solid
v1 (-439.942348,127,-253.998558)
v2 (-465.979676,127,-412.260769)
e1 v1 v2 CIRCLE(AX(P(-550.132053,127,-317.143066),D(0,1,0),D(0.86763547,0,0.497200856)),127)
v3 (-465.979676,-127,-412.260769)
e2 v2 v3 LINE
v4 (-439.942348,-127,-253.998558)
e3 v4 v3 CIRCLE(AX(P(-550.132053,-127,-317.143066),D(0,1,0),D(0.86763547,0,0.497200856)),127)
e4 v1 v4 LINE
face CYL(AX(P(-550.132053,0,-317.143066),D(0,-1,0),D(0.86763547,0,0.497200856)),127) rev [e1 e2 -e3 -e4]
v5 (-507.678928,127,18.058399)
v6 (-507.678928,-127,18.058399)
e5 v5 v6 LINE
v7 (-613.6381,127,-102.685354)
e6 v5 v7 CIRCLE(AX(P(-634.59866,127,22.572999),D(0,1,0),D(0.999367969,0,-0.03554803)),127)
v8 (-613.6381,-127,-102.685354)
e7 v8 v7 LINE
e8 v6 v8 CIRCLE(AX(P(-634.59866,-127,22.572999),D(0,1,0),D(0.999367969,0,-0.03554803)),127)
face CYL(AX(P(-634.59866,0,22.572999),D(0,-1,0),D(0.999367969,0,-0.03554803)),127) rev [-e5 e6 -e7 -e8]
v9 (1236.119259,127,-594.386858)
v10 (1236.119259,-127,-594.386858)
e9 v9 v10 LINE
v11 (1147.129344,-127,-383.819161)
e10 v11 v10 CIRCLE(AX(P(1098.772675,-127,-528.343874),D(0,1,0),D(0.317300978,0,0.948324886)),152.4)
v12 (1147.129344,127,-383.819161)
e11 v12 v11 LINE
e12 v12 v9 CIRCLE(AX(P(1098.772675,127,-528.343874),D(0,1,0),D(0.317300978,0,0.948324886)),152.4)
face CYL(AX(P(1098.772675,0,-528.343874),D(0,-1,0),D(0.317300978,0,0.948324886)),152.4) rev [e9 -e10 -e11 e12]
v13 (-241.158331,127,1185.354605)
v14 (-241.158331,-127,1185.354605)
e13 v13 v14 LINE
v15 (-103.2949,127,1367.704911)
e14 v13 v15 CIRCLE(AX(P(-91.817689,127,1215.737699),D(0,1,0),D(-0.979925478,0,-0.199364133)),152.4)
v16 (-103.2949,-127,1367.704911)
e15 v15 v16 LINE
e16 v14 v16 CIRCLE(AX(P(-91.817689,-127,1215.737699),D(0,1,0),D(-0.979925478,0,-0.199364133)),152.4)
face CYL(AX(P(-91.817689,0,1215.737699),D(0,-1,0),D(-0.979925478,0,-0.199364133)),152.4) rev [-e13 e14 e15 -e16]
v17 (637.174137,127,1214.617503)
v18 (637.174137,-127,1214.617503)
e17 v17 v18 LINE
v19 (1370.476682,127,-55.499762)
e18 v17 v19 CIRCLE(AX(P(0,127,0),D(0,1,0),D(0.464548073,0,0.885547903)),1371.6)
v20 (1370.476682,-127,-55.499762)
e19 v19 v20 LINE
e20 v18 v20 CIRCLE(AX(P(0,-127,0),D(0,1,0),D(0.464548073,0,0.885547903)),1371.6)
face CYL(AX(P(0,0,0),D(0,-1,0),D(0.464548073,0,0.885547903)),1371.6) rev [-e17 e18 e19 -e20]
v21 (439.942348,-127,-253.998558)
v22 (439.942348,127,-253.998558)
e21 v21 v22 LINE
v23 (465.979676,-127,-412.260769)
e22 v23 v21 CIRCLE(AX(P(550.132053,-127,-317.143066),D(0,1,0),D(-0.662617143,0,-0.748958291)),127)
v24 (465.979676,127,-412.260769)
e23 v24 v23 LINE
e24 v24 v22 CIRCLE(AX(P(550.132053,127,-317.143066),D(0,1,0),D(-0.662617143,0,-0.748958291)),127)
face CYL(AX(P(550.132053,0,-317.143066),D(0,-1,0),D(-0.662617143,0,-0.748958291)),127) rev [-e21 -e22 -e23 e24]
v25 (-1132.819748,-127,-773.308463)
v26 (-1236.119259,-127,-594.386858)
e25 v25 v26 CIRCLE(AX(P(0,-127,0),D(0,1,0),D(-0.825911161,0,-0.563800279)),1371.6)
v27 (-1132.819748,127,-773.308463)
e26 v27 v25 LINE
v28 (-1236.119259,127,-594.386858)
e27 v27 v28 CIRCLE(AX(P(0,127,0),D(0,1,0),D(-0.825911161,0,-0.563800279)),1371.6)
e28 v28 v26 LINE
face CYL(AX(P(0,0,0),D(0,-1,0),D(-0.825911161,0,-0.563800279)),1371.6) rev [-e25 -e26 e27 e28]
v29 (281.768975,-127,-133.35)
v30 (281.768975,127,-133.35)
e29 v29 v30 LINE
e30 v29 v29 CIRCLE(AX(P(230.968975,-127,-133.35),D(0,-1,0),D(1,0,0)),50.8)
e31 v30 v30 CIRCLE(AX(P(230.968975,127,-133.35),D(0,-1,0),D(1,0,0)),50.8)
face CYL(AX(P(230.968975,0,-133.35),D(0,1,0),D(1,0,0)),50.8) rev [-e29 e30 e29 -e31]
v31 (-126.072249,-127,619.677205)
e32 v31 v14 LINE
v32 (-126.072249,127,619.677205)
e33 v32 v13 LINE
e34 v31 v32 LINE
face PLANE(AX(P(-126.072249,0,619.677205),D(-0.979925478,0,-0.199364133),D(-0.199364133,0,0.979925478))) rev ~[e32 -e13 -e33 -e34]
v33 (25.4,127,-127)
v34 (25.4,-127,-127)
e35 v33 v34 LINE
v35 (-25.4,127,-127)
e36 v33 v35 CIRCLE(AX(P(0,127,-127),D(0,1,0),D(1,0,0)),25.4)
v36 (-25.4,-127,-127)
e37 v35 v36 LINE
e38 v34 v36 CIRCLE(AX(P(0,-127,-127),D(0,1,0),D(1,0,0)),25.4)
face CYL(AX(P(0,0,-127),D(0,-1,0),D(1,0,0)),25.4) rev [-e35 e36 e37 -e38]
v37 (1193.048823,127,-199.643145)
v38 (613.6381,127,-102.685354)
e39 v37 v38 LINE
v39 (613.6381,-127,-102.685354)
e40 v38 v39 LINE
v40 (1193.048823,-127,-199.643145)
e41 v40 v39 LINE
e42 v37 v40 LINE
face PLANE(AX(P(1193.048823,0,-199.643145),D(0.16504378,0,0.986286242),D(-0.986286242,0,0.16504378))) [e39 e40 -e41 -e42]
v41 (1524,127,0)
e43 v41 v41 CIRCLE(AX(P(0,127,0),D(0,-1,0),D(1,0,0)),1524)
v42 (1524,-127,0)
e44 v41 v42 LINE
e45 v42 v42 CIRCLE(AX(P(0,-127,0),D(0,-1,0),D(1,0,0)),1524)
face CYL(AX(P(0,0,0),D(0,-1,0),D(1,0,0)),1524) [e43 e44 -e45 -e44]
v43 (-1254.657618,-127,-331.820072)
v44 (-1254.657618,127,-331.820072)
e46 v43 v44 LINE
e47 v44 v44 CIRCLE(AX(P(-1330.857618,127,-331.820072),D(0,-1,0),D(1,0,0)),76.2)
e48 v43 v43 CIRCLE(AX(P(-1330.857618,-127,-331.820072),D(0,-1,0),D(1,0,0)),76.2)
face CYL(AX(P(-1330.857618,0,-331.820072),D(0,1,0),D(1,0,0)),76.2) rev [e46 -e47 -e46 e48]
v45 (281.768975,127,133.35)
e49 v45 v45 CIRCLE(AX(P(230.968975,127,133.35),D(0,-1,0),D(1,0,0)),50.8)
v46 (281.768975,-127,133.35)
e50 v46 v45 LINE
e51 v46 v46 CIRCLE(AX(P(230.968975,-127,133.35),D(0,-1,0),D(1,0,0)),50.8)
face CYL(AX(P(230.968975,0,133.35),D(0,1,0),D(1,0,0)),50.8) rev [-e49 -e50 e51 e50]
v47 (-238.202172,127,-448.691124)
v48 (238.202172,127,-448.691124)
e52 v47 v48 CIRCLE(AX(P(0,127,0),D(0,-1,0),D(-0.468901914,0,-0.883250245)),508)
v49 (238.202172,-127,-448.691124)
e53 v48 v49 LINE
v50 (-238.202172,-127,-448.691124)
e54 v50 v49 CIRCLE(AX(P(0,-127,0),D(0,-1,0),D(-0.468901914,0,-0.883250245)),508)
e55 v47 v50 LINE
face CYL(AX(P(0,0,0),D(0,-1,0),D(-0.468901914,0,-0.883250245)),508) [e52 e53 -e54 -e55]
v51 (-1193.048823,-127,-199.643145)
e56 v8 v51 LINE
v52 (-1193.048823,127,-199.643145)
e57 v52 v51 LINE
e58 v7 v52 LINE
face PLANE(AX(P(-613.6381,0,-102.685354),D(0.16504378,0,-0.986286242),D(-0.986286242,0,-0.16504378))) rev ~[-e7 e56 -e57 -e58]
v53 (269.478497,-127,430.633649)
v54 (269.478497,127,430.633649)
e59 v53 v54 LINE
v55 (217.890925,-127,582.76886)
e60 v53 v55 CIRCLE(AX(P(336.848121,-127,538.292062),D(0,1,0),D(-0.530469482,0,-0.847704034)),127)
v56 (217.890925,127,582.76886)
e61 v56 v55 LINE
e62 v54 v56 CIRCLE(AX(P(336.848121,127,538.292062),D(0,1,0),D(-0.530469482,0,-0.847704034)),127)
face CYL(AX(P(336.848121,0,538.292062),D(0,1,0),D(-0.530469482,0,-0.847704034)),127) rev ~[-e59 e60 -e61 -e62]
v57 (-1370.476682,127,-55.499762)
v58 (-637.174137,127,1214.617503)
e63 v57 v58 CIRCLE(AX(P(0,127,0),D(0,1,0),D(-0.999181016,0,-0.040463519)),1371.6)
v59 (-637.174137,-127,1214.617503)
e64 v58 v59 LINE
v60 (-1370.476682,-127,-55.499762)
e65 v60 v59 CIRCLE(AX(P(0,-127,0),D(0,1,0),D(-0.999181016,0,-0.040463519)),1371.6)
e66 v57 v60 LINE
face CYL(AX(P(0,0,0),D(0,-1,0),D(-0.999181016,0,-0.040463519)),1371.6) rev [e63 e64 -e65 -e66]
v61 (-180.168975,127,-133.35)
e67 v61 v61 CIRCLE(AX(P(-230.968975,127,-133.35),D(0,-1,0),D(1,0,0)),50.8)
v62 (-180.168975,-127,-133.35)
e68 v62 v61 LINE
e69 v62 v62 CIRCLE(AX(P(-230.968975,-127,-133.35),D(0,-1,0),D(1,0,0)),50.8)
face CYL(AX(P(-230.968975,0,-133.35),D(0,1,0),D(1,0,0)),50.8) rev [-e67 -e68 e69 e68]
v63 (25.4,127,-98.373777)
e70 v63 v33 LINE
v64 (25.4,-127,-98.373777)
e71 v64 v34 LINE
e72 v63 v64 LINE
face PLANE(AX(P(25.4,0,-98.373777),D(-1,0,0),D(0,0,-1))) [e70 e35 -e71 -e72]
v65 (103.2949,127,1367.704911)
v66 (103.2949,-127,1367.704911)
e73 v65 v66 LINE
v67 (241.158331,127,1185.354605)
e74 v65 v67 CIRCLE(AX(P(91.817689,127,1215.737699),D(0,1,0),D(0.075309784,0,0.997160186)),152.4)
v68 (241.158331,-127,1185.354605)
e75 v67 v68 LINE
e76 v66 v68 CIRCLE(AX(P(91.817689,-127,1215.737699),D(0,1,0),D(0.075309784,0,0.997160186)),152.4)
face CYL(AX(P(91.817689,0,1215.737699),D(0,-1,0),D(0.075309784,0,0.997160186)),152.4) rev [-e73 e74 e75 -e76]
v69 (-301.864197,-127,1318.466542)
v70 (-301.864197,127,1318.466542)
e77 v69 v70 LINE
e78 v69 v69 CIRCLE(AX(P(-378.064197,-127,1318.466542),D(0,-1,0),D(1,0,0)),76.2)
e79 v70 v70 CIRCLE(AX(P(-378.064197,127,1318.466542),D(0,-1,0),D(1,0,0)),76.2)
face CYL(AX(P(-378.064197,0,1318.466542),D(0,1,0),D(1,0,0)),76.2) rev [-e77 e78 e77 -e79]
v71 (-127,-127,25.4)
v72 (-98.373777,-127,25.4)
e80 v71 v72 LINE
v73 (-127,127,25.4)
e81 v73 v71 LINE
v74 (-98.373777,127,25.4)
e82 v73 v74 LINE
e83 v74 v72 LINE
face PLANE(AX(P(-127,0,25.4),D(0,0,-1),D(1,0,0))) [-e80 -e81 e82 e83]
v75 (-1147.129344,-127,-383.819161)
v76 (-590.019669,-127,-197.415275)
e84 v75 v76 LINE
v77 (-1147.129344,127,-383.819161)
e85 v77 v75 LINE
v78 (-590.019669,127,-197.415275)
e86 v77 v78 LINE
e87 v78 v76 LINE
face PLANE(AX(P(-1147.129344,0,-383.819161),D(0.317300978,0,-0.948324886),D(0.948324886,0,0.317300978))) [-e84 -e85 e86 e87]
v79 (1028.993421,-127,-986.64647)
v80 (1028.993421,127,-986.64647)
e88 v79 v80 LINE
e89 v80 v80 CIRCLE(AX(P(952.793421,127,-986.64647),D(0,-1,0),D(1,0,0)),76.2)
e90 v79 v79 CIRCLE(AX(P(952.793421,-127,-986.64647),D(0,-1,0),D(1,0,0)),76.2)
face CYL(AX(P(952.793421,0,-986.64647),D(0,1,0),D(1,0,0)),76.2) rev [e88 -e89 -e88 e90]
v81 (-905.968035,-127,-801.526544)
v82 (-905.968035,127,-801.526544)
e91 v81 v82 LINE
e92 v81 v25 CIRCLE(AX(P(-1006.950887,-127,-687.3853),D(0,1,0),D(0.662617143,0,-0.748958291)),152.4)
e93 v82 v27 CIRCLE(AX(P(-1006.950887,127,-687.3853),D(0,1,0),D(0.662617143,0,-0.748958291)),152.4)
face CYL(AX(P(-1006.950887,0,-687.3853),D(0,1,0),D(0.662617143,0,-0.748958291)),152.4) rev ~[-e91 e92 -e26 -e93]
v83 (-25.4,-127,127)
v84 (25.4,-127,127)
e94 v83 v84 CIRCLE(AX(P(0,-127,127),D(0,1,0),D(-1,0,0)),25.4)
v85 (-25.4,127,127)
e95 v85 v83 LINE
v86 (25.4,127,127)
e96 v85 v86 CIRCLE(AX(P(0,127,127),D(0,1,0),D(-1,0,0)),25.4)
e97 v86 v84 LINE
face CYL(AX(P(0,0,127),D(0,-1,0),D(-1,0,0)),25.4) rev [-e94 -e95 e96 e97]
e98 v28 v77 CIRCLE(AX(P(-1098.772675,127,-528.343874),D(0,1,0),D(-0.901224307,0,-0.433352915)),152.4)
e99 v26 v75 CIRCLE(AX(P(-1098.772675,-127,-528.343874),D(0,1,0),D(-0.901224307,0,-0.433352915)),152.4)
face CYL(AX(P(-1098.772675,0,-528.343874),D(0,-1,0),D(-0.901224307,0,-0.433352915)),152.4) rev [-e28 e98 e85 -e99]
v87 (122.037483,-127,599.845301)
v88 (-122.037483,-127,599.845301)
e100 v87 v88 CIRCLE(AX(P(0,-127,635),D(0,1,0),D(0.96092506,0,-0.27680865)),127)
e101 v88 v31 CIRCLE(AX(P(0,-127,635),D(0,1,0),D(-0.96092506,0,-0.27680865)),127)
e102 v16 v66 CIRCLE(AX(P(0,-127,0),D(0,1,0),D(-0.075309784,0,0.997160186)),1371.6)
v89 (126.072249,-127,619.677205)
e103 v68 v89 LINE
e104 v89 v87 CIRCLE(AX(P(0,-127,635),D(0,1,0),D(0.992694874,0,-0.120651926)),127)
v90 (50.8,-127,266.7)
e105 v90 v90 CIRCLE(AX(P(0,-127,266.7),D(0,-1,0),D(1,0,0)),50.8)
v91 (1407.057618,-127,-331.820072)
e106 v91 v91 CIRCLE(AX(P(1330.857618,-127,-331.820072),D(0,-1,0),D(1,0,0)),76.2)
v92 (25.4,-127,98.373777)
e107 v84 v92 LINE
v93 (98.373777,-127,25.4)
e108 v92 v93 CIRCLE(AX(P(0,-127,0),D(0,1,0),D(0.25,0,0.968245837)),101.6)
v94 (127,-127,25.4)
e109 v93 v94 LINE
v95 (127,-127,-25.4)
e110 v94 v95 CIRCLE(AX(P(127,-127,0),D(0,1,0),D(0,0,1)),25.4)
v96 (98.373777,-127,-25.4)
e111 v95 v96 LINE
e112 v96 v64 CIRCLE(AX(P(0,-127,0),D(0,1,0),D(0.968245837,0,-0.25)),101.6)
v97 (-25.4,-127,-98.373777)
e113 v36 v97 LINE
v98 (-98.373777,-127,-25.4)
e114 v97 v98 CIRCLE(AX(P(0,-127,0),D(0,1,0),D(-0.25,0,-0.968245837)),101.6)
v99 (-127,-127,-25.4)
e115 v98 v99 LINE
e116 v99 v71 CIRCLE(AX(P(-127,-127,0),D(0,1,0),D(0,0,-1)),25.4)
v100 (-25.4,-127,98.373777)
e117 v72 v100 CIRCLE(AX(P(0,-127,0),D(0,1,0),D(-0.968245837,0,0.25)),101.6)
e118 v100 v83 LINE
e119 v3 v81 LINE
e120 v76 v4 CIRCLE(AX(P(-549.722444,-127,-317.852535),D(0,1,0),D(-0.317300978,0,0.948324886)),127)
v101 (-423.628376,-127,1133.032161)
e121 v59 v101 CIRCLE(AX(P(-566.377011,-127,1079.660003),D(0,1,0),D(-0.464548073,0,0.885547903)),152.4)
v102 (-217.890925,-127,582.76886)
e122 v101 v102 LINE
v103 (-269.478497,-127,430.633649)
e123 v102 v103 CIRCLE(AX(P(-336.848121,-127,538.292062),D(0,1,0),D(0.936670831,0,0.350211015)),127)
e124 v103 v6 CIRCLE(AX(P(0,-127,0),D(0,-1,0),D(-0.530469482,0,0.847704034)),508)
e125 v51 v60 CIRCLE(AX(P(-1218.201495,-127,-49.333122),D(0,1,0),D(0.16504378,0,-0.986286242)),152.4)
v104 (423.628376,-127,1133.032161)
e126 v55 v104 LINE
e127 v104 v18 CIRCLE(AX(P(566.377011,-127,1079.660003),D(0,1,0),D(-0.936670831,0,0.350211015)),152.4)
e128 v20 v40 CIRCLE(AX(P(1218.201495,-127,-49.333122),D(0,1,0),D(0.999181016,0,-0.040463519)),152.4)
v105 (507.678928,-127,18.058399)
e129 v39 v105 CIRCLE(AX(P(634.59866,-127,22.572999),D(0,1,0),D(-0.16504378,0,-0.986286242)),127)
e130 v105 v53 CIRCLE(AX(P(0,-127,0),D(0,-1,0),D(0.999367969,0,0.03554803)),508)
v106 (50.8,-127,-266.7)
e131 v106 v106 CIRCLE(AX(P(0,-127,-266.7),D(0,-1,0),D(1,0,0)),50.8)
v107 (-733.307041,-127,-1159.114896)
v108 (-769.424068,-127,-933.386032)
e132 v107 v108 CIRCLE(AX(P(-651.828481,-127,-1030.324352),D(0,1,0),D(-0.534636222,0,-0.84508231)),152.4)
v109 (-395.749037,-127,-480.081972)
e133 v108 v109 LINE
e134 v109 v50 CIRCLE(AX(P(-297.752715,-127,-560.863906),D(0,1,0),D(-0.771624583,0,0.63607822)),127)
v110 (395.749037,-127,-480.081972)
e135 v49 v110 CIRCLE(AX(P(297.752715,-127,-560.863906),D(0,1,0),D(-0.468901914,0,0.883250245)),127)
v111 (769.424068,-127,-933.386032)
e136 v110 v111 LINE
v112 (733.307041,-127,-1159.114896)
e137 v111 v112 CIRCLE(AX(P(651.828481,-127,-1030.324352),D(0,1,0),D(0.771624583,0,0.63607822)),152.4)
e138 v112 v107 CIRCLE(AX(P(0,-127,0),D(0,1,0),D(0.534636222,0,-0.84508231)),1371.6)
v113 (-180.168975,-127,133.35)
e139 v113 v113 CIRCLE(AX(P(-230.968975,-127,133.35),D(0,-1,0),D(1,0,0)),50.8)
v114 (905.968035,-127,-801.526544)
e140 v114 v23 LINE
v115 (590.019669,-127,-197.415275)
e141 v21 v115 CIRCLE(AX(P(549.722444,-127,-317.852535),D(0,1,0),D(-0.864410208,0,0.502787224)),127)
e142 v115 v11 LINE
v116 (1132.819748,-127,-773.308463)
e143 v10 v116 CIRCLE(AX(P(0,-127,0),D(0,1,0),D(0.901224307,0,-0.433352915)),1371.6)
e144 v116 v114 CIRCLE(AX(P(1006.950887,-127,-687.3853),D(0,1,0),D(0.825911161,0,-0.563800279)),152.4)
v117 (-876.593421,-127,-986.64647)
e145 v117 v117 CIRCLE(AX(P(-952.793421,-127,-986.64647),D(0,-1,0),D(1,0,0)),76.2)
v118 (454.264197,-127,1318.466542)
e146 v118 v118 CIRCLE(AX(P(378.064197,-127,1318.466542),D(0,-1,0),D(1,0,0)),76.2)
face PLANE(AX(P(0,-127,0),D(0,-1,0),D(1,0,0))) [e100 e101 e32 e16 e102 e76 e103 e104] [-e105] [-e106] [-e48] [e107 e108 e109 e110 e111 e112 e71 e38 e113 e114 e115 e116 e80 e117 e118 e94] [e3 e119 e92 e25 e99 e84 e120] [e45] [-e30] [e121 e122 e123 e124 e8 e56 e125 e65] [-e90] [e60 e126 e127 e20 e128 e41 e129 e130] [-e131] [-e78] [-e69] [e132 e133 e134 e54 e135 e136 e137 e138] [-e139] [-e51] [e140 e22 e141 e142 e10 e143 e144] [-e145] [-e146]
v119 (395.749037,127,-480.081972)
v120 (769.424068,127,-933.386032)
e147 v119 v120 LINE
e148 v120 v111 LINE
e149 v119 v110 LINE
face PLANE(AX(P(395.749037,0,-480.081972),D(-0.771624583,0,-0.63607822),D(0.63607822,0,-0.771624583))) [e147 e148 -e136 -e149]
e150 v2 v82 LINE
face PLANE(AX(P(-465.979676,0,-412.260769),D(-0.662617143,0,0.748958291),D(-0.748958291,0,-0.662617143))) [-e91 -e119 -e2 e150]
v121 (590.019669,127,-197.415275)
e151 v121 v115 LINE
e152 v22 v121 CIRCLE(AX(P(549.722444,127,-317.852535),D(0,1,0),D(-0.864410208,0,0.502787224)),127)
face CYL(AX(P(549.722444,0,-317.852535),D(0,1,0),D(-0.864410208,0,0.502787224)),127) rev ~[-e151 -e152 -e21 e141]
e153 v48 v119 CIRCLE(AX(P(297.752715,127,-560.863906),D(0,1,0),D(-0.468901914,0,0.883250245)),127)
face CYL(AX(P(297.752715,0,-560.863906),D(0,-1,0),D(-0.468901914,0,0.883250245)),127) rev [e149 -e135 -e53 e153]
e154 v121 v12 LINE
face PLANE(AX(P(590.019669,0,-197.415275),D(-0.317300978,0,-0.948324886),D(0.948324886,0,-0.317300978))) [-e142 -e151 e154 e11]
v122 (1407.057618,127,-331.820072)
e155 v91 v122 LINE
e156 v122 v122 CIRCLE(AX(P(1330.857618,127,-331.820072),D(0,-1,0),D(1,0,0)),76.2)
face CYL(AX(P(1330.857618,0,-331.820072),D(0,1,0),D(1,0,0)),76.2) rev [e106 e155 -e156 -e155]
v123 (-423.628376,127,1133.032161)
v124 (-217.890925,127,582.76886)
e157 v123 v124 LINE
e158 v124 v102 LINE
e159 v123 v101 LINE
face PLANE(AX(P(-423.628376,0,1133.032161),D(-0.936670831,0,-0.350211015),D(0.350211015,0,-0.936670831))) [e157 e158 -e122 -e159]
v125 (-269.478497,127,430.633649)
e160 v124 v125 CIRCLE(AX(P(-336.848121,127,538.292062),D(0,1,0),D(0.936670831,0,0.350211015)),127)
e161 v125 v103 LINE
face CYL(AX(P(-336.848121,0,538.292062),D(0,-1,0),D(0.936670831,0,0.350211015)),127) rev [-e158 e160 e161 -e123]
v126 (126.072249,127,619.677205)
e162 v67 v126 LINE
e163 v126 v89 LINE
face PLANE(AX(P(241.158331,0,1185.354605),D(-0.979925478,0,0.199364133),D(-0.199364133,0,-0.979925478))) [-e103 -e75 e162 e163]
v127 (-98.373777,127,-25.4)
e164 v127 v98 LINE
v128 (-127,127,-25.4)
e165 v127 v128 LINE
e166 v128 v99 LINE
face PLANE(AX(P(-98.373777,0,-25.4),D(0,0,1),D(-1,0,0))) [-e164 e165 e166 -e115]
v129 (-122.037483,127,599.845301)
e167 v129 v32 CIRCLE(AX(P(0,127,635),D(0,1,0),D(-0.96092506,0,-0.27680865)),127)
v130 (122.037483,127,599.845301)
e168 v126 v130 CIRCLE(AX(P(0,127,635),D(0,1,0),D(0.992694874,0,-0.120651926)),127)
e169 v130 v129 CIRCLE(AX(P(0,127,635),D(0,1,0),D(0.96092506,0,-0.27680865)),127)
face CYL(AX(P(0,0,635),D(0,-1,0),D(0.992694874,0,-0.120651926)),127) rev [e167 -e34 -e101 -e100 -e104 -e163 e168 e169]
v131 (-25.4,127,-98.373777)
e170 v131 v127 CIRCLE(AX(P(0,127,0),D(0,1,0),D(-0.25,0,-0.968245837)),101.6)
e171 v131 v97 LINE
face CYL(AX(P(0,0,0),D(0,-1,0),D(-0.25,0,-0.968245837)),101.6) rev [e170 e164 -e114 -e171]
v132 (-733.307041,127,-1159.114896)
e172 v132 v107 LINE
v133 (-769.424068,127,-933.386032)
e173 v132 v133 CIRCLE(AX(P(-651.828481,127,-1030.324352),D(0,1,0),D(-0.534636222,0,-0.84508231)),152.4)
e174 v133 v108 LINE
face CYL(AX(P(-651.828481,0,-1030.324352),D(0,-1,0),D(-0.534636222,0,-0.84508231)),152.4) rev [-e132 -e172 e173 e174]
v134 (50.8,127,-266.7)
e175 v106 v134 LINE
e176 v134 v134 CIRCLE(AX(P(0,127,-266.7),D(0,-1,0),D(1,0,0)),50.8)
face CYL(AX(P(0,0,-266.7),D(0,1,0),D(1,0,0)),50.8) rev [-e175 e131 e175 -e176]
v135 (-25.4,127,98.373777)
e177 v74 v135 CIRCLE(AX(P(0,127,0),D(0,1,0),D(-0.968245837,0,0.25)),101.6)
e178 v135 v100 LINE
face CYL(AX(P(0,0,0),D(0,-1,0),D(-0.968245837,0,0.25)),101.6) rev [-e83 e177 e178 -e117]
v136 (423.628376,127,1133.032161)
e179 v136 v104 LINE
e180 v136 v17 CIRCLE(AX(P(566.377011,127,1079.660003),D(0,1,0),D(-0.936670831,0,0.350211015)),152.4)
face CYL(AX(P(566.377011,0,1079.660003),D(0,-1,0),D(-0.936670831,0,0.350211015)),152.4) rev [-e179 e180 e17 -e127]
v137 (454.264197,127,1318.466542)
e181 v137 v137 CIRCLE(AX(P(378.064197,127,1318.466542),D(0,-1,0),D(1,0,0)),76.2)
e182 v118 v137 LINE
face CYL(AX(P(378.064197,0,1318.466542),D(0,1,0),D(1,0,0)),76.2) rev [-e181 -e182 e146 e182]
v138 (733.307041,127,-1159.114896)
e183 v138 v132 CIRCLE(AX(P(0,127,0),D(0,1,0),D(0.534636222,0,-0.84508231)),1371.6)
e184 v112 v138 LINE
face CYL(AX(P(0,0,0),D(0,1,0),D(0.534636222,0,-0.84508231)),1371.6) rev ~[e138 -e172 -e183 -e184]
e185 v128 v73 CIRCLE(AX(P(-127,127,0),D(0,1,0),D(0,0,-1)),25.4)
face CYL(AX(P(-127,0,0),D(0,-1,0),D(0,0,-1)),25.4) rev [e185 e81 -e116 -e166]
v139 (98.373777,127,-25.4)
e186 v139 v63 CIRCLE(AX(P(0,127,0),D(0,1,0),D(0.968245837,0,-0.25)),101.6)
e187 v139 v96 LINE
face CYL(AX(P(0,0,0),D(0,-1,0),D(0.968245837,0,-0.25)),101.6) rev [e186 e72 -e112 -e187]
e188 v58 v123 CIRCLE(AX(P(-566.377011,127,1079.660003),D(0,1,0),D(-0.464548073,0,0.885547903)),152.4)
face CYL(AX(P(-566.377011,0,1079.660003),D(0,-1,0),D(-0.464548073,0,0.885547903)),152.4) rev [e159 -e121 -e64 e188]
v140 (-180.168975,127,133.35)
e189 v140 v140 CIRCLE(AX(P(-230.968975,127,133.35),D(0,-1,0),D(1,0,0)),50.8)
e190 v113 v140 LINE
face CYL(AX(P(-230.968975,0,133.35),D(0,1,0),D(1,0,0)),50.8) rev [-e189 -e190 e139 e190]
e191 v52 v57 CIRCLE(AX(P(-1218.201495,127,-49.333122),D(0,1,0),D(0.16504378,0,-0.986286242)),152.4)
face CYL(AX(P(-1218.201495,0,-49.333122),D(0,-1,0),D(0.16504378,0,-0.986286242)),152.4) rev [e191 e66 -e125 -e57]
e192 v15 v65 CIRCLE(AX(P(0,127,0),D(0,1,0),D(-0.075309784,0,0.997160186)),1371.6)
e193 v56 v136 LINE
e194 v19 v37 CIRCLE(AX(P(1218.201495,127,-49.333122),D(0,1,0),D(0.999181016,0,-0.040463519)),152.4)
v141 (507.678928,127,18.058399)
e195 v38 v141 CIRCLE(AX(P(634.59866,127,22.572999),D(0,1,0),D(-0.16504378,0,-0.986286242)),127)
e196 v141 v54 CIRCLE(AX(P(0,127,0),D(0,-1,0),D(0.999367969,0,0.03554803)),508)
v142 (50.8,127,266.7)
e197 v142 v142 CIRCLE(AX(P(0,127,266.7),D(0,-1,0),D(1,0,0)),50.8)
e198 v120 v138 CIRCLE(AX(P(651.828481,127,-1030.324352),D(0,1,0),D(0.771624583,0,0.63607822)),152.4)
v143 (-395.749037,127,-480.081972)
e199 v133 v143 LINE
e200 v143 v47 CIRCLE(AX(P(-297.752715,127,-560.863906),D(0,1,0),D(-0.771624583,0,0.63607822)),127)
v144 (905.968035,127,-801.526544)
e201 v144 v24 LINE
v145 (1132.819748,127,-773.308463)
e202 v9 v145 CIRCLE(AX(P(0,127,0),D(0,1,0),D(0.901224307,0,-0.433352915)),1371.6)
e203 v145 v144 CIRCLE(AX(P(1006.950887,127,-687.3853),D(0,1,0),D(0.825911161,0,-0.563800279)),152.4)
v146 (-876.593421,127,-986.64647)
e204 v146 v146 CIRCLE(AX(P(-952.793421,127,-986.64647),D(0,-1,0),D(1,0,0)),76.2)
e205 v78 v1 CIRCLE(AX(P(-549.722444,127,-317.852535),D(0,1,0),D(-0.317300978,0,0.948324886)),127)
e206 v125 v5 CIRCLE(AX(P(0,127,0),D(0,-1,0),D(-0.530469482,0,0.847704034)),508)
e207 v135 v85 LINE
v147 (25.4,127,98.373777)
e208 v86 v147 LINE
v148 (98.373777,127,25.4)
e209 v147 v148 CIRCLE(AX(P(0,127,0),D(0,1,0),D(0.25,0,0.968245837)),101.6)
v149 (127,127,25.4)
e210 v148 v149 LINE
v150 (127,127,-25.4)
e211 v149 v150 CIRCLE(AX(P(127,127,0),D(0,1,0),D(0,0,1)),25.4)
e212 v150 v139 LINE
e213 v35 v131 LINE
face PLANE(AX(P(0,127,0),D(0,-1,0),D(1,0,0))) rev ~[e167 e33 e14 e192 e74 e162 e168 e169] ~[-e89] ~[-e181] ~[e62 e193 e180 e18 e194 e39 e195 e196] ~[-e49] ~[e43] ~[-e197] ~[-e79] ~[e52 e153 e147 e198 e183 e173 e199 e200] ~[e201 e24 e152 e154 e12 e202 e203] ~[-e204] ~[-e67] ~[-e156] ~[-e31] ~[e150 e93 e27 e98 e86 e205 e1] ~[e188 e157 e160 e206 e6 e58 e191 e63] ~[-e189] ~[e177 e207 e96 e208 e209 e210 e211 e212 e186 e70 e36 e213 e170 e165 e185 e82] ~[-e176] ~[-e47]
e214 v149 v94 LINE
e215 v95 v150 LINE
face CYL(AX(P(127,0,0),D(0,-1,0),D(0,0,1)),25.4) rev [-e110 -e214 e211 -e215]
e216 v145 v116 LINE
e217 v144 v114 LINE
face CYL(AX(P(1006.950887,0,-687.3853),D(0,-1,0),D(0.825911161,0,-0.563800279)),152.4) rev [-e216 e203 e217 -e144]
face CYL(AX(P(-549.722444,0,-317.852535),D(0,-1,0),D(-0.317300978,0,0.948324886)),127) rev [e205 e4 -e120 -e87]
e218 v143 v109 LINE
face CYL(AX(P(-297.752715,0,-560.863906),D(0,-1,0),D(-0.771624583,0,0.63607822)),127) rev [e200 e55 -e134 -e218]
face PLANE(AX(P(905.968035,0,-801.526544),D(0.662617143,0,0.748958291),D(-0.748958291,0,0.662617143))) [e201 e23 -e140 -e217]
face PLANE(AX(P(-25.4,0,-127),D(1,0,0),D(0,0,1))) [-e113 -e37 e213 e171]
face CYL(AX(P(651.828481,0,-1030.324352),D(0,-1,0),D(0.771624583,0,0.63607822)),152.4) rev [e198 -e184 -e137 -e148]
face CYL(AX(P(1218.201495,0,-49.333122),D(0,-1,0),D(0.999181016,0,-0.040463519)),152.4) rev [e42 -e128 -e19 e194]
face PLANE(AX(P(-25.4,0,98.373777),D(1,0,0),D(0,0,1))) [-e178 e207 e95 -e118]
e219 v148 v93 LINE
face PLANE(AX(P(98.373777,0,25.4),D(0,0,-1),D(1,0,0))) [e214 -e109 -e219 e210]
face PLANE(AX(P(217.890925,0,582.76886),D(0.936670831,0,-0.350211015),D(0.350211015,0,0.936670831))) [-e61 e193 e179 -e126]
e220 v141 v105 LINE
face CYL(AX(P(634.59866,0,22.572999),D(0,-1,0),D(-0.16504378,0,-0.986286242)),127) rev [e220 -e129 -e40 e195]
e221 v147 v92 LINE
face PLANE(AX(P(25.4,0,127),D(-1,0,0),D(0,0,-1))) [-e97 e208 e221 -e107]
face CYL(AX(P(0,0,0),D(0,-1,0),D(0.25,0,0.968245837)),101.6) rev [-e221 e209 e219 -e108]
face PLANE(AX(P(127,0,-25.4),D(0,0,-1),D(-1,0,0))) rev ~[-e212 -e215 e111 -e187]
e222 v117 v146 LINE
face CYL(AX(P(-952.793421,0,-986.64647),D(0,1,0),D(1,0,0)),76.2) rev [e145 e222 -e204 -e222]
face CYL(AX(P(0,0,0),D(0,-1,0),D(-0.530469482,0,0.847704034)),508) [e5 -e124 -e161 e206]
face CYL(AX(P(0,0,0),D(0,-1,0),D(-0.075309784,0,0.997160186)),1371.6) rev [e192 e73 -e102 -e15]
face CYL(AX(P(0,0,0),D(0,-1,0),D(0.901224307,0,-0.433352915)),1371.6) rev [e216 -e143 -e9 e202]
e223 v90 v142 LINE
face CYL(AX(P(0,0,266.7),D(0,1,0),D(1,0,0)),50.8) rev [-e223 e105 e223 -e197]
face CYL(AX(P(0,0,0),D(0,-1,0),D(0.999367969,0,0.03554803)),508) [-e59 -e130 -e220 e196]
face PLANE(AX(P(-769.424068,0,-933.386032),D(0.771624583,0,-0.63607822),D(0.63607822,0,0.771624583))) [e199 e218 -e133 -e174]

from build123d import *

# Parameters (mm, degrees)
F0_R     = 1524
F0_R_2   = 76.2
F0_R_3   = 381
F0_R_4   = 50.8
F1_DEPTH = 127


with BuildPart() as f1:
    # F0 (on Front) → F1 (new body, symmetric)
    with BuildSketch(Plane.XZ):
        Circle(F0_R)
        with Locations((-952.7934209216, -986.6464701445)):
            Circle(F0_R_2, mode=Mode.SUBTRACT)
        with BuildLine():
            ThreePointArc((-439.9423480835, -253.9985576034), (-424.8166782014, -337.7599742856), (-465.9796756343, -412.2607692902))
            Line((-465.9796756343, -412.2607692902), (-905.9680345543, -801.5265437687))
            ThreePointArc((-905.9680345543, -801.5265437687), (-1025.7629411656, -838.61977583), (-1132.819748018, -773.308462711))
            ThreePointArc((-1132.819748018, -773.308462711), (-1187.843104173, -685.7953921314), (-1236.1192591992, -594.3868580619))
            ThreePointArc((-1236.1192591992, -594.3868580619), (-1239.1511394228, -469.0172635939), (-1147.1293438409, -383.8191611934))
            Line((-1147.1293438409, -383.8191611934), (-590.0196686482, -197.415274506))
            ThreePointArc((-590.0196686482, -197.415274506), (-504.9186012887, -199.0181307826), (-439.9423480835, -253.9985576034))
        make_face(mode=Mode.SUBTRACT)
        with Locations((-1330.8576181602, -331.8200720045)):
            Circle(F0_R_2, mode=Mode.SUBTRACT)
        with BuildLine():
            ThreePointArc((238.2021722072, -448.6911244451), (322.569358917, -436.3121725393), (395.7490373493, -480.081971581))
            Line((395.7490373493, -480.081971581), (769.4240678115, -933.3860315391))
            ThreePointArc((769.4240678115, -933.3860315391), (802.3143911759, -1054.4023698731), (733.3070414661, -1159.1148963482))
            ThreePointArc((733.3070414661, -1159.1148963482), (0, -1371.6), (-733.3070414661, -1159.1148963482))
            ThreePointArc((-733.3070414661, -1159.1148963482), (-802.3143911759, -1054.4023698731), (-769.4240678115, -933.3860315391))
            Line((-769.4240678115, -933.3860315391), (-395.7490373493, -480.081971581))
            ThreePointArc((-395.7490373493, -480.081971581), (-322.569358917, -436.3121725393), (-238.2021722072, -448.6911244451))
            ThreePointArc((-238.2021722072, -448.6911244451), (0, -508), (238.2021722072, -448.6911244451))
        make_face(mode=Mode.SUBTRACT)
        with Locations((952.7934209216, -986.6464701445)):
            Circle(F0_R_2, mode=Mode.SUBTRACT)
        with BuildLine():
            Line((905.9680345543, -801.5265437687), (465.9796756343, -412.2607692902))
            ThreePointArc((465.9796756343, -412.2607692902), (424.8166782014, -337.7599742856), (439.9423480835, -253.9985576034))
            ThreePointArc((439.9423480835, -253.9985576034), (504.9186012886, -199.0181307826), (590.0196686482, -197.415274506))
            Line((590.0196686482, -197.415274506), (1147.1293438409, -383.8191611934))
            ThreePointArc((1147.1293438409, -383.8191611934), (1239.1511394228, -469.0172635939), (1236.1192591992, -594.3868580619))
            ThreePointArc((1236.1192591992, -594.3868580619), (1187.843104173, -685.7953921314), (1132.819748018, -773.308462711))
            ThreePointArc((1132.819748018, -773.308462711), (1025.7629411656, -838.61977583), (905.9680345543, -801.5265437687))
        make_face(mode=Mode.SUBTRACT)
        with Locations((1330.8576181602, -331.8200720045)):
            Circle(F0_R_2, mode=Mode.SUBTRACT)
        with BuildLine():
            ThreePointArc((-217.8909252886, 582.7688604214), (-216.5746758745, 497.5085054428), (-269.4784966319, 430.6336492345))
            ThreePointArc((-269.4784966319, 430.6336492345), (-439.9409051225, 254), (-507.6789282774, 18.0583992396))
            ThreePointArc((-507.6789282774, 18.0583992396), (-539.1423422495, -61.1950815977), (-613.6381003037, -102.6853536567))
            Line((-613.6381003037, -102.6853536567), (-1193.0488232197, -199.6431451721))
            ThreePointArc((-1193.0488232197, -199.6431451721), (-1314.2970839426, -167.6183612316), (-1370.4766821802, -55.4997621651))
            ThreePointArc((-1370.4766821802, -55.4997621651), (-1187.8404438307, 685.8), (-637.1741371511, 1214.6175031448))
            ThreePointArc((-637.1741371511, 1214.6175031448), (-511.986783004, 1222.0238434299), (-423.6283761994, 1133.0321614494))
            Line((-423.6283761994, 1133.0321614494), (-217.8909252886, 582.7688604214))
        make_face(mode=Mode.SUBTRACT)
        with Locations((-378.0641972386, 1318.466542149)):
            Circle(F0_R_2, mode=Mode.SUBTRACT)
        Circle(F0_R_3, mode=Mode.SUBTRACT)
        with BuildLine():
            Line((1193.0488232197, -199.6431451721), (613.6381003037, -102.6853536567))
            ThreePointArc((613.6381003037, -102.6853536567), (539.1423422495, -61.1950815977), (507.6789282774, 18.0583992396))
            ThreePointArc((507.6789282774, 18.0583992396), (439.9409051225, 254), (269.4784966319, 430.6336492345))
            ThreePointArc((269.4784966319, 430.6336492345), (216.5746758745, 497.5085054428), (217.8909252886, 582.7688604214))
            Line((217.8909252886, 582.7688604214), (423.6283761994, 1133.0321614494))
            ThreePointArc((423.6283761994, 1133.0321614494), (511.986783004, 1222.0238434299), (637.1741371511, 1214.6175031448))
            ThreePointArc((637.1741371511, 1214.6175031448), (1187.8404438307, 685.8), (1370.4766821802, -55.4997621651))
            ThreePointArc((1370.4766821802, -55.4997621651), (1314.2970839426, -167.6183612316), (1193.0488232197, -199.6431451721))
        make_face(mode=Mode.SUBTRACT)
        with BuildLine():
            ThreePointArc((126.0722489911, 619.6772054013), (124.450535706, 609.6807550966), (122.0374826547, 599.8453014902))
            ThreePointArc((122.0374826547, 599.8453014902), (0, 508), (-122.0374826546, 599.8453014902))
            ThreePointArc((-122.0374826546, 599.8453014902), (-124.450535706, 609.6807550966), (-126.0722489911, 619.6772054013))
            Line((-126.0722489911, 619.6772054013), (-241.1583314341, 1185.354604825))
            ThreePointArc((-241.1583314341, 1185.354604825), (-213.384559402, 1307.6466532251), (-103.2948996602, 1367.7049110478))
            ThreePointArc((-103.2948996602, 1367.7049110478), (0, 1371.6), (103.2948996602, 1367.7049110478))
            ThreePointArc((103.2948996602, 1367.7049110478), (213.384559402, 1307.6466532251), (241.1583314341, 1185.354604825))
            Line((241.1583314341, 1185.354604825), (126.0722489911, 619.6772054013))
        make_face(mode=Mode.SUBTRACT)
        with Locations((378.0641972386, 1318.466542149)):
            Circle(F0_R_2, mode=Mode.SUBTRACT)
        Circle(F0_R_3)
        with Locations((-230.9689751893, -133.35)):
            Circle(F0_R_4, mode=Mode.SUBTRACT)
        with Locations((0, -266.7)):
            Circle(F0_R_4, mode=Mode.SUBTRACT)
        with Locations((230.9689751893, -133.35)):
            Circle(F0_R_4, mode=Mode.SUBTRACT)
        with Locations((-230.9689751893, 133.35)):
            Circle(F0_R_4, mode=Mode.SUBTRACT)
        with BuildLine():
            ThreePointArc((-98.3737769937, 25.4), (-71.8420489686, 71.8420489686), (-25.4, 98.3737769937))
            Line((-25.4, 98.3737769937), (-25.4, 127))
            ThreePointArc((-25.4, 127), (0, 152.4), (25.4, 127))
            Line((25.4, 127), (25.4, 98.3737769937))
            ThreePointArc((25.4, 98.3737769937), (71.8420489686, 71.8420489686), (98.3737769937, 25.4))
            Line((98.3737769937, 25.4), (127, 25.4))
            ThreePointArc((127, 25.4), (152.4, 0), (127, -25.4))
            Line((127, -25.4), (98.3737769937, -25.4))
            ThreePointArc((98.3737769937, -25.4), (71.8420489686, -71.8420489686), (25.4, -98.3737769937))
            Line((25.4, -98.3737769937), (25.4, -127))
            ThreePointArc((25.4, -127), (0, -152.4), (-25.4, -127))
            Line((-25.4, -127), (-25.4, -98.3737769937))
            ThreePointArc((-25.4, -98.3737769937), (-71.8420489686, -71.8420489686), (-98.3737769937, -25.4))
            Line((-98.3737769937, -25.4), (-127, -25.4))
            ThreePointArc((-127, -25.4), (-152.4, 0), (-127, 25.4))
            Line((-127, 25.4), (-98.3737769937, 25.4))
        make_face(mode=Mode.SUBTRACT)
        with Locations((230.9689751893, 133.35)):
            Circle(F0_R_4, mode=Mode.SUBTRACT)
        with Locations((0, 266.7)):
            Circle(F0_R_4, mode=Mode.SUBTRACT)
    extrude(amount=F1_DEPTH, both=True)


solid = f1.part
